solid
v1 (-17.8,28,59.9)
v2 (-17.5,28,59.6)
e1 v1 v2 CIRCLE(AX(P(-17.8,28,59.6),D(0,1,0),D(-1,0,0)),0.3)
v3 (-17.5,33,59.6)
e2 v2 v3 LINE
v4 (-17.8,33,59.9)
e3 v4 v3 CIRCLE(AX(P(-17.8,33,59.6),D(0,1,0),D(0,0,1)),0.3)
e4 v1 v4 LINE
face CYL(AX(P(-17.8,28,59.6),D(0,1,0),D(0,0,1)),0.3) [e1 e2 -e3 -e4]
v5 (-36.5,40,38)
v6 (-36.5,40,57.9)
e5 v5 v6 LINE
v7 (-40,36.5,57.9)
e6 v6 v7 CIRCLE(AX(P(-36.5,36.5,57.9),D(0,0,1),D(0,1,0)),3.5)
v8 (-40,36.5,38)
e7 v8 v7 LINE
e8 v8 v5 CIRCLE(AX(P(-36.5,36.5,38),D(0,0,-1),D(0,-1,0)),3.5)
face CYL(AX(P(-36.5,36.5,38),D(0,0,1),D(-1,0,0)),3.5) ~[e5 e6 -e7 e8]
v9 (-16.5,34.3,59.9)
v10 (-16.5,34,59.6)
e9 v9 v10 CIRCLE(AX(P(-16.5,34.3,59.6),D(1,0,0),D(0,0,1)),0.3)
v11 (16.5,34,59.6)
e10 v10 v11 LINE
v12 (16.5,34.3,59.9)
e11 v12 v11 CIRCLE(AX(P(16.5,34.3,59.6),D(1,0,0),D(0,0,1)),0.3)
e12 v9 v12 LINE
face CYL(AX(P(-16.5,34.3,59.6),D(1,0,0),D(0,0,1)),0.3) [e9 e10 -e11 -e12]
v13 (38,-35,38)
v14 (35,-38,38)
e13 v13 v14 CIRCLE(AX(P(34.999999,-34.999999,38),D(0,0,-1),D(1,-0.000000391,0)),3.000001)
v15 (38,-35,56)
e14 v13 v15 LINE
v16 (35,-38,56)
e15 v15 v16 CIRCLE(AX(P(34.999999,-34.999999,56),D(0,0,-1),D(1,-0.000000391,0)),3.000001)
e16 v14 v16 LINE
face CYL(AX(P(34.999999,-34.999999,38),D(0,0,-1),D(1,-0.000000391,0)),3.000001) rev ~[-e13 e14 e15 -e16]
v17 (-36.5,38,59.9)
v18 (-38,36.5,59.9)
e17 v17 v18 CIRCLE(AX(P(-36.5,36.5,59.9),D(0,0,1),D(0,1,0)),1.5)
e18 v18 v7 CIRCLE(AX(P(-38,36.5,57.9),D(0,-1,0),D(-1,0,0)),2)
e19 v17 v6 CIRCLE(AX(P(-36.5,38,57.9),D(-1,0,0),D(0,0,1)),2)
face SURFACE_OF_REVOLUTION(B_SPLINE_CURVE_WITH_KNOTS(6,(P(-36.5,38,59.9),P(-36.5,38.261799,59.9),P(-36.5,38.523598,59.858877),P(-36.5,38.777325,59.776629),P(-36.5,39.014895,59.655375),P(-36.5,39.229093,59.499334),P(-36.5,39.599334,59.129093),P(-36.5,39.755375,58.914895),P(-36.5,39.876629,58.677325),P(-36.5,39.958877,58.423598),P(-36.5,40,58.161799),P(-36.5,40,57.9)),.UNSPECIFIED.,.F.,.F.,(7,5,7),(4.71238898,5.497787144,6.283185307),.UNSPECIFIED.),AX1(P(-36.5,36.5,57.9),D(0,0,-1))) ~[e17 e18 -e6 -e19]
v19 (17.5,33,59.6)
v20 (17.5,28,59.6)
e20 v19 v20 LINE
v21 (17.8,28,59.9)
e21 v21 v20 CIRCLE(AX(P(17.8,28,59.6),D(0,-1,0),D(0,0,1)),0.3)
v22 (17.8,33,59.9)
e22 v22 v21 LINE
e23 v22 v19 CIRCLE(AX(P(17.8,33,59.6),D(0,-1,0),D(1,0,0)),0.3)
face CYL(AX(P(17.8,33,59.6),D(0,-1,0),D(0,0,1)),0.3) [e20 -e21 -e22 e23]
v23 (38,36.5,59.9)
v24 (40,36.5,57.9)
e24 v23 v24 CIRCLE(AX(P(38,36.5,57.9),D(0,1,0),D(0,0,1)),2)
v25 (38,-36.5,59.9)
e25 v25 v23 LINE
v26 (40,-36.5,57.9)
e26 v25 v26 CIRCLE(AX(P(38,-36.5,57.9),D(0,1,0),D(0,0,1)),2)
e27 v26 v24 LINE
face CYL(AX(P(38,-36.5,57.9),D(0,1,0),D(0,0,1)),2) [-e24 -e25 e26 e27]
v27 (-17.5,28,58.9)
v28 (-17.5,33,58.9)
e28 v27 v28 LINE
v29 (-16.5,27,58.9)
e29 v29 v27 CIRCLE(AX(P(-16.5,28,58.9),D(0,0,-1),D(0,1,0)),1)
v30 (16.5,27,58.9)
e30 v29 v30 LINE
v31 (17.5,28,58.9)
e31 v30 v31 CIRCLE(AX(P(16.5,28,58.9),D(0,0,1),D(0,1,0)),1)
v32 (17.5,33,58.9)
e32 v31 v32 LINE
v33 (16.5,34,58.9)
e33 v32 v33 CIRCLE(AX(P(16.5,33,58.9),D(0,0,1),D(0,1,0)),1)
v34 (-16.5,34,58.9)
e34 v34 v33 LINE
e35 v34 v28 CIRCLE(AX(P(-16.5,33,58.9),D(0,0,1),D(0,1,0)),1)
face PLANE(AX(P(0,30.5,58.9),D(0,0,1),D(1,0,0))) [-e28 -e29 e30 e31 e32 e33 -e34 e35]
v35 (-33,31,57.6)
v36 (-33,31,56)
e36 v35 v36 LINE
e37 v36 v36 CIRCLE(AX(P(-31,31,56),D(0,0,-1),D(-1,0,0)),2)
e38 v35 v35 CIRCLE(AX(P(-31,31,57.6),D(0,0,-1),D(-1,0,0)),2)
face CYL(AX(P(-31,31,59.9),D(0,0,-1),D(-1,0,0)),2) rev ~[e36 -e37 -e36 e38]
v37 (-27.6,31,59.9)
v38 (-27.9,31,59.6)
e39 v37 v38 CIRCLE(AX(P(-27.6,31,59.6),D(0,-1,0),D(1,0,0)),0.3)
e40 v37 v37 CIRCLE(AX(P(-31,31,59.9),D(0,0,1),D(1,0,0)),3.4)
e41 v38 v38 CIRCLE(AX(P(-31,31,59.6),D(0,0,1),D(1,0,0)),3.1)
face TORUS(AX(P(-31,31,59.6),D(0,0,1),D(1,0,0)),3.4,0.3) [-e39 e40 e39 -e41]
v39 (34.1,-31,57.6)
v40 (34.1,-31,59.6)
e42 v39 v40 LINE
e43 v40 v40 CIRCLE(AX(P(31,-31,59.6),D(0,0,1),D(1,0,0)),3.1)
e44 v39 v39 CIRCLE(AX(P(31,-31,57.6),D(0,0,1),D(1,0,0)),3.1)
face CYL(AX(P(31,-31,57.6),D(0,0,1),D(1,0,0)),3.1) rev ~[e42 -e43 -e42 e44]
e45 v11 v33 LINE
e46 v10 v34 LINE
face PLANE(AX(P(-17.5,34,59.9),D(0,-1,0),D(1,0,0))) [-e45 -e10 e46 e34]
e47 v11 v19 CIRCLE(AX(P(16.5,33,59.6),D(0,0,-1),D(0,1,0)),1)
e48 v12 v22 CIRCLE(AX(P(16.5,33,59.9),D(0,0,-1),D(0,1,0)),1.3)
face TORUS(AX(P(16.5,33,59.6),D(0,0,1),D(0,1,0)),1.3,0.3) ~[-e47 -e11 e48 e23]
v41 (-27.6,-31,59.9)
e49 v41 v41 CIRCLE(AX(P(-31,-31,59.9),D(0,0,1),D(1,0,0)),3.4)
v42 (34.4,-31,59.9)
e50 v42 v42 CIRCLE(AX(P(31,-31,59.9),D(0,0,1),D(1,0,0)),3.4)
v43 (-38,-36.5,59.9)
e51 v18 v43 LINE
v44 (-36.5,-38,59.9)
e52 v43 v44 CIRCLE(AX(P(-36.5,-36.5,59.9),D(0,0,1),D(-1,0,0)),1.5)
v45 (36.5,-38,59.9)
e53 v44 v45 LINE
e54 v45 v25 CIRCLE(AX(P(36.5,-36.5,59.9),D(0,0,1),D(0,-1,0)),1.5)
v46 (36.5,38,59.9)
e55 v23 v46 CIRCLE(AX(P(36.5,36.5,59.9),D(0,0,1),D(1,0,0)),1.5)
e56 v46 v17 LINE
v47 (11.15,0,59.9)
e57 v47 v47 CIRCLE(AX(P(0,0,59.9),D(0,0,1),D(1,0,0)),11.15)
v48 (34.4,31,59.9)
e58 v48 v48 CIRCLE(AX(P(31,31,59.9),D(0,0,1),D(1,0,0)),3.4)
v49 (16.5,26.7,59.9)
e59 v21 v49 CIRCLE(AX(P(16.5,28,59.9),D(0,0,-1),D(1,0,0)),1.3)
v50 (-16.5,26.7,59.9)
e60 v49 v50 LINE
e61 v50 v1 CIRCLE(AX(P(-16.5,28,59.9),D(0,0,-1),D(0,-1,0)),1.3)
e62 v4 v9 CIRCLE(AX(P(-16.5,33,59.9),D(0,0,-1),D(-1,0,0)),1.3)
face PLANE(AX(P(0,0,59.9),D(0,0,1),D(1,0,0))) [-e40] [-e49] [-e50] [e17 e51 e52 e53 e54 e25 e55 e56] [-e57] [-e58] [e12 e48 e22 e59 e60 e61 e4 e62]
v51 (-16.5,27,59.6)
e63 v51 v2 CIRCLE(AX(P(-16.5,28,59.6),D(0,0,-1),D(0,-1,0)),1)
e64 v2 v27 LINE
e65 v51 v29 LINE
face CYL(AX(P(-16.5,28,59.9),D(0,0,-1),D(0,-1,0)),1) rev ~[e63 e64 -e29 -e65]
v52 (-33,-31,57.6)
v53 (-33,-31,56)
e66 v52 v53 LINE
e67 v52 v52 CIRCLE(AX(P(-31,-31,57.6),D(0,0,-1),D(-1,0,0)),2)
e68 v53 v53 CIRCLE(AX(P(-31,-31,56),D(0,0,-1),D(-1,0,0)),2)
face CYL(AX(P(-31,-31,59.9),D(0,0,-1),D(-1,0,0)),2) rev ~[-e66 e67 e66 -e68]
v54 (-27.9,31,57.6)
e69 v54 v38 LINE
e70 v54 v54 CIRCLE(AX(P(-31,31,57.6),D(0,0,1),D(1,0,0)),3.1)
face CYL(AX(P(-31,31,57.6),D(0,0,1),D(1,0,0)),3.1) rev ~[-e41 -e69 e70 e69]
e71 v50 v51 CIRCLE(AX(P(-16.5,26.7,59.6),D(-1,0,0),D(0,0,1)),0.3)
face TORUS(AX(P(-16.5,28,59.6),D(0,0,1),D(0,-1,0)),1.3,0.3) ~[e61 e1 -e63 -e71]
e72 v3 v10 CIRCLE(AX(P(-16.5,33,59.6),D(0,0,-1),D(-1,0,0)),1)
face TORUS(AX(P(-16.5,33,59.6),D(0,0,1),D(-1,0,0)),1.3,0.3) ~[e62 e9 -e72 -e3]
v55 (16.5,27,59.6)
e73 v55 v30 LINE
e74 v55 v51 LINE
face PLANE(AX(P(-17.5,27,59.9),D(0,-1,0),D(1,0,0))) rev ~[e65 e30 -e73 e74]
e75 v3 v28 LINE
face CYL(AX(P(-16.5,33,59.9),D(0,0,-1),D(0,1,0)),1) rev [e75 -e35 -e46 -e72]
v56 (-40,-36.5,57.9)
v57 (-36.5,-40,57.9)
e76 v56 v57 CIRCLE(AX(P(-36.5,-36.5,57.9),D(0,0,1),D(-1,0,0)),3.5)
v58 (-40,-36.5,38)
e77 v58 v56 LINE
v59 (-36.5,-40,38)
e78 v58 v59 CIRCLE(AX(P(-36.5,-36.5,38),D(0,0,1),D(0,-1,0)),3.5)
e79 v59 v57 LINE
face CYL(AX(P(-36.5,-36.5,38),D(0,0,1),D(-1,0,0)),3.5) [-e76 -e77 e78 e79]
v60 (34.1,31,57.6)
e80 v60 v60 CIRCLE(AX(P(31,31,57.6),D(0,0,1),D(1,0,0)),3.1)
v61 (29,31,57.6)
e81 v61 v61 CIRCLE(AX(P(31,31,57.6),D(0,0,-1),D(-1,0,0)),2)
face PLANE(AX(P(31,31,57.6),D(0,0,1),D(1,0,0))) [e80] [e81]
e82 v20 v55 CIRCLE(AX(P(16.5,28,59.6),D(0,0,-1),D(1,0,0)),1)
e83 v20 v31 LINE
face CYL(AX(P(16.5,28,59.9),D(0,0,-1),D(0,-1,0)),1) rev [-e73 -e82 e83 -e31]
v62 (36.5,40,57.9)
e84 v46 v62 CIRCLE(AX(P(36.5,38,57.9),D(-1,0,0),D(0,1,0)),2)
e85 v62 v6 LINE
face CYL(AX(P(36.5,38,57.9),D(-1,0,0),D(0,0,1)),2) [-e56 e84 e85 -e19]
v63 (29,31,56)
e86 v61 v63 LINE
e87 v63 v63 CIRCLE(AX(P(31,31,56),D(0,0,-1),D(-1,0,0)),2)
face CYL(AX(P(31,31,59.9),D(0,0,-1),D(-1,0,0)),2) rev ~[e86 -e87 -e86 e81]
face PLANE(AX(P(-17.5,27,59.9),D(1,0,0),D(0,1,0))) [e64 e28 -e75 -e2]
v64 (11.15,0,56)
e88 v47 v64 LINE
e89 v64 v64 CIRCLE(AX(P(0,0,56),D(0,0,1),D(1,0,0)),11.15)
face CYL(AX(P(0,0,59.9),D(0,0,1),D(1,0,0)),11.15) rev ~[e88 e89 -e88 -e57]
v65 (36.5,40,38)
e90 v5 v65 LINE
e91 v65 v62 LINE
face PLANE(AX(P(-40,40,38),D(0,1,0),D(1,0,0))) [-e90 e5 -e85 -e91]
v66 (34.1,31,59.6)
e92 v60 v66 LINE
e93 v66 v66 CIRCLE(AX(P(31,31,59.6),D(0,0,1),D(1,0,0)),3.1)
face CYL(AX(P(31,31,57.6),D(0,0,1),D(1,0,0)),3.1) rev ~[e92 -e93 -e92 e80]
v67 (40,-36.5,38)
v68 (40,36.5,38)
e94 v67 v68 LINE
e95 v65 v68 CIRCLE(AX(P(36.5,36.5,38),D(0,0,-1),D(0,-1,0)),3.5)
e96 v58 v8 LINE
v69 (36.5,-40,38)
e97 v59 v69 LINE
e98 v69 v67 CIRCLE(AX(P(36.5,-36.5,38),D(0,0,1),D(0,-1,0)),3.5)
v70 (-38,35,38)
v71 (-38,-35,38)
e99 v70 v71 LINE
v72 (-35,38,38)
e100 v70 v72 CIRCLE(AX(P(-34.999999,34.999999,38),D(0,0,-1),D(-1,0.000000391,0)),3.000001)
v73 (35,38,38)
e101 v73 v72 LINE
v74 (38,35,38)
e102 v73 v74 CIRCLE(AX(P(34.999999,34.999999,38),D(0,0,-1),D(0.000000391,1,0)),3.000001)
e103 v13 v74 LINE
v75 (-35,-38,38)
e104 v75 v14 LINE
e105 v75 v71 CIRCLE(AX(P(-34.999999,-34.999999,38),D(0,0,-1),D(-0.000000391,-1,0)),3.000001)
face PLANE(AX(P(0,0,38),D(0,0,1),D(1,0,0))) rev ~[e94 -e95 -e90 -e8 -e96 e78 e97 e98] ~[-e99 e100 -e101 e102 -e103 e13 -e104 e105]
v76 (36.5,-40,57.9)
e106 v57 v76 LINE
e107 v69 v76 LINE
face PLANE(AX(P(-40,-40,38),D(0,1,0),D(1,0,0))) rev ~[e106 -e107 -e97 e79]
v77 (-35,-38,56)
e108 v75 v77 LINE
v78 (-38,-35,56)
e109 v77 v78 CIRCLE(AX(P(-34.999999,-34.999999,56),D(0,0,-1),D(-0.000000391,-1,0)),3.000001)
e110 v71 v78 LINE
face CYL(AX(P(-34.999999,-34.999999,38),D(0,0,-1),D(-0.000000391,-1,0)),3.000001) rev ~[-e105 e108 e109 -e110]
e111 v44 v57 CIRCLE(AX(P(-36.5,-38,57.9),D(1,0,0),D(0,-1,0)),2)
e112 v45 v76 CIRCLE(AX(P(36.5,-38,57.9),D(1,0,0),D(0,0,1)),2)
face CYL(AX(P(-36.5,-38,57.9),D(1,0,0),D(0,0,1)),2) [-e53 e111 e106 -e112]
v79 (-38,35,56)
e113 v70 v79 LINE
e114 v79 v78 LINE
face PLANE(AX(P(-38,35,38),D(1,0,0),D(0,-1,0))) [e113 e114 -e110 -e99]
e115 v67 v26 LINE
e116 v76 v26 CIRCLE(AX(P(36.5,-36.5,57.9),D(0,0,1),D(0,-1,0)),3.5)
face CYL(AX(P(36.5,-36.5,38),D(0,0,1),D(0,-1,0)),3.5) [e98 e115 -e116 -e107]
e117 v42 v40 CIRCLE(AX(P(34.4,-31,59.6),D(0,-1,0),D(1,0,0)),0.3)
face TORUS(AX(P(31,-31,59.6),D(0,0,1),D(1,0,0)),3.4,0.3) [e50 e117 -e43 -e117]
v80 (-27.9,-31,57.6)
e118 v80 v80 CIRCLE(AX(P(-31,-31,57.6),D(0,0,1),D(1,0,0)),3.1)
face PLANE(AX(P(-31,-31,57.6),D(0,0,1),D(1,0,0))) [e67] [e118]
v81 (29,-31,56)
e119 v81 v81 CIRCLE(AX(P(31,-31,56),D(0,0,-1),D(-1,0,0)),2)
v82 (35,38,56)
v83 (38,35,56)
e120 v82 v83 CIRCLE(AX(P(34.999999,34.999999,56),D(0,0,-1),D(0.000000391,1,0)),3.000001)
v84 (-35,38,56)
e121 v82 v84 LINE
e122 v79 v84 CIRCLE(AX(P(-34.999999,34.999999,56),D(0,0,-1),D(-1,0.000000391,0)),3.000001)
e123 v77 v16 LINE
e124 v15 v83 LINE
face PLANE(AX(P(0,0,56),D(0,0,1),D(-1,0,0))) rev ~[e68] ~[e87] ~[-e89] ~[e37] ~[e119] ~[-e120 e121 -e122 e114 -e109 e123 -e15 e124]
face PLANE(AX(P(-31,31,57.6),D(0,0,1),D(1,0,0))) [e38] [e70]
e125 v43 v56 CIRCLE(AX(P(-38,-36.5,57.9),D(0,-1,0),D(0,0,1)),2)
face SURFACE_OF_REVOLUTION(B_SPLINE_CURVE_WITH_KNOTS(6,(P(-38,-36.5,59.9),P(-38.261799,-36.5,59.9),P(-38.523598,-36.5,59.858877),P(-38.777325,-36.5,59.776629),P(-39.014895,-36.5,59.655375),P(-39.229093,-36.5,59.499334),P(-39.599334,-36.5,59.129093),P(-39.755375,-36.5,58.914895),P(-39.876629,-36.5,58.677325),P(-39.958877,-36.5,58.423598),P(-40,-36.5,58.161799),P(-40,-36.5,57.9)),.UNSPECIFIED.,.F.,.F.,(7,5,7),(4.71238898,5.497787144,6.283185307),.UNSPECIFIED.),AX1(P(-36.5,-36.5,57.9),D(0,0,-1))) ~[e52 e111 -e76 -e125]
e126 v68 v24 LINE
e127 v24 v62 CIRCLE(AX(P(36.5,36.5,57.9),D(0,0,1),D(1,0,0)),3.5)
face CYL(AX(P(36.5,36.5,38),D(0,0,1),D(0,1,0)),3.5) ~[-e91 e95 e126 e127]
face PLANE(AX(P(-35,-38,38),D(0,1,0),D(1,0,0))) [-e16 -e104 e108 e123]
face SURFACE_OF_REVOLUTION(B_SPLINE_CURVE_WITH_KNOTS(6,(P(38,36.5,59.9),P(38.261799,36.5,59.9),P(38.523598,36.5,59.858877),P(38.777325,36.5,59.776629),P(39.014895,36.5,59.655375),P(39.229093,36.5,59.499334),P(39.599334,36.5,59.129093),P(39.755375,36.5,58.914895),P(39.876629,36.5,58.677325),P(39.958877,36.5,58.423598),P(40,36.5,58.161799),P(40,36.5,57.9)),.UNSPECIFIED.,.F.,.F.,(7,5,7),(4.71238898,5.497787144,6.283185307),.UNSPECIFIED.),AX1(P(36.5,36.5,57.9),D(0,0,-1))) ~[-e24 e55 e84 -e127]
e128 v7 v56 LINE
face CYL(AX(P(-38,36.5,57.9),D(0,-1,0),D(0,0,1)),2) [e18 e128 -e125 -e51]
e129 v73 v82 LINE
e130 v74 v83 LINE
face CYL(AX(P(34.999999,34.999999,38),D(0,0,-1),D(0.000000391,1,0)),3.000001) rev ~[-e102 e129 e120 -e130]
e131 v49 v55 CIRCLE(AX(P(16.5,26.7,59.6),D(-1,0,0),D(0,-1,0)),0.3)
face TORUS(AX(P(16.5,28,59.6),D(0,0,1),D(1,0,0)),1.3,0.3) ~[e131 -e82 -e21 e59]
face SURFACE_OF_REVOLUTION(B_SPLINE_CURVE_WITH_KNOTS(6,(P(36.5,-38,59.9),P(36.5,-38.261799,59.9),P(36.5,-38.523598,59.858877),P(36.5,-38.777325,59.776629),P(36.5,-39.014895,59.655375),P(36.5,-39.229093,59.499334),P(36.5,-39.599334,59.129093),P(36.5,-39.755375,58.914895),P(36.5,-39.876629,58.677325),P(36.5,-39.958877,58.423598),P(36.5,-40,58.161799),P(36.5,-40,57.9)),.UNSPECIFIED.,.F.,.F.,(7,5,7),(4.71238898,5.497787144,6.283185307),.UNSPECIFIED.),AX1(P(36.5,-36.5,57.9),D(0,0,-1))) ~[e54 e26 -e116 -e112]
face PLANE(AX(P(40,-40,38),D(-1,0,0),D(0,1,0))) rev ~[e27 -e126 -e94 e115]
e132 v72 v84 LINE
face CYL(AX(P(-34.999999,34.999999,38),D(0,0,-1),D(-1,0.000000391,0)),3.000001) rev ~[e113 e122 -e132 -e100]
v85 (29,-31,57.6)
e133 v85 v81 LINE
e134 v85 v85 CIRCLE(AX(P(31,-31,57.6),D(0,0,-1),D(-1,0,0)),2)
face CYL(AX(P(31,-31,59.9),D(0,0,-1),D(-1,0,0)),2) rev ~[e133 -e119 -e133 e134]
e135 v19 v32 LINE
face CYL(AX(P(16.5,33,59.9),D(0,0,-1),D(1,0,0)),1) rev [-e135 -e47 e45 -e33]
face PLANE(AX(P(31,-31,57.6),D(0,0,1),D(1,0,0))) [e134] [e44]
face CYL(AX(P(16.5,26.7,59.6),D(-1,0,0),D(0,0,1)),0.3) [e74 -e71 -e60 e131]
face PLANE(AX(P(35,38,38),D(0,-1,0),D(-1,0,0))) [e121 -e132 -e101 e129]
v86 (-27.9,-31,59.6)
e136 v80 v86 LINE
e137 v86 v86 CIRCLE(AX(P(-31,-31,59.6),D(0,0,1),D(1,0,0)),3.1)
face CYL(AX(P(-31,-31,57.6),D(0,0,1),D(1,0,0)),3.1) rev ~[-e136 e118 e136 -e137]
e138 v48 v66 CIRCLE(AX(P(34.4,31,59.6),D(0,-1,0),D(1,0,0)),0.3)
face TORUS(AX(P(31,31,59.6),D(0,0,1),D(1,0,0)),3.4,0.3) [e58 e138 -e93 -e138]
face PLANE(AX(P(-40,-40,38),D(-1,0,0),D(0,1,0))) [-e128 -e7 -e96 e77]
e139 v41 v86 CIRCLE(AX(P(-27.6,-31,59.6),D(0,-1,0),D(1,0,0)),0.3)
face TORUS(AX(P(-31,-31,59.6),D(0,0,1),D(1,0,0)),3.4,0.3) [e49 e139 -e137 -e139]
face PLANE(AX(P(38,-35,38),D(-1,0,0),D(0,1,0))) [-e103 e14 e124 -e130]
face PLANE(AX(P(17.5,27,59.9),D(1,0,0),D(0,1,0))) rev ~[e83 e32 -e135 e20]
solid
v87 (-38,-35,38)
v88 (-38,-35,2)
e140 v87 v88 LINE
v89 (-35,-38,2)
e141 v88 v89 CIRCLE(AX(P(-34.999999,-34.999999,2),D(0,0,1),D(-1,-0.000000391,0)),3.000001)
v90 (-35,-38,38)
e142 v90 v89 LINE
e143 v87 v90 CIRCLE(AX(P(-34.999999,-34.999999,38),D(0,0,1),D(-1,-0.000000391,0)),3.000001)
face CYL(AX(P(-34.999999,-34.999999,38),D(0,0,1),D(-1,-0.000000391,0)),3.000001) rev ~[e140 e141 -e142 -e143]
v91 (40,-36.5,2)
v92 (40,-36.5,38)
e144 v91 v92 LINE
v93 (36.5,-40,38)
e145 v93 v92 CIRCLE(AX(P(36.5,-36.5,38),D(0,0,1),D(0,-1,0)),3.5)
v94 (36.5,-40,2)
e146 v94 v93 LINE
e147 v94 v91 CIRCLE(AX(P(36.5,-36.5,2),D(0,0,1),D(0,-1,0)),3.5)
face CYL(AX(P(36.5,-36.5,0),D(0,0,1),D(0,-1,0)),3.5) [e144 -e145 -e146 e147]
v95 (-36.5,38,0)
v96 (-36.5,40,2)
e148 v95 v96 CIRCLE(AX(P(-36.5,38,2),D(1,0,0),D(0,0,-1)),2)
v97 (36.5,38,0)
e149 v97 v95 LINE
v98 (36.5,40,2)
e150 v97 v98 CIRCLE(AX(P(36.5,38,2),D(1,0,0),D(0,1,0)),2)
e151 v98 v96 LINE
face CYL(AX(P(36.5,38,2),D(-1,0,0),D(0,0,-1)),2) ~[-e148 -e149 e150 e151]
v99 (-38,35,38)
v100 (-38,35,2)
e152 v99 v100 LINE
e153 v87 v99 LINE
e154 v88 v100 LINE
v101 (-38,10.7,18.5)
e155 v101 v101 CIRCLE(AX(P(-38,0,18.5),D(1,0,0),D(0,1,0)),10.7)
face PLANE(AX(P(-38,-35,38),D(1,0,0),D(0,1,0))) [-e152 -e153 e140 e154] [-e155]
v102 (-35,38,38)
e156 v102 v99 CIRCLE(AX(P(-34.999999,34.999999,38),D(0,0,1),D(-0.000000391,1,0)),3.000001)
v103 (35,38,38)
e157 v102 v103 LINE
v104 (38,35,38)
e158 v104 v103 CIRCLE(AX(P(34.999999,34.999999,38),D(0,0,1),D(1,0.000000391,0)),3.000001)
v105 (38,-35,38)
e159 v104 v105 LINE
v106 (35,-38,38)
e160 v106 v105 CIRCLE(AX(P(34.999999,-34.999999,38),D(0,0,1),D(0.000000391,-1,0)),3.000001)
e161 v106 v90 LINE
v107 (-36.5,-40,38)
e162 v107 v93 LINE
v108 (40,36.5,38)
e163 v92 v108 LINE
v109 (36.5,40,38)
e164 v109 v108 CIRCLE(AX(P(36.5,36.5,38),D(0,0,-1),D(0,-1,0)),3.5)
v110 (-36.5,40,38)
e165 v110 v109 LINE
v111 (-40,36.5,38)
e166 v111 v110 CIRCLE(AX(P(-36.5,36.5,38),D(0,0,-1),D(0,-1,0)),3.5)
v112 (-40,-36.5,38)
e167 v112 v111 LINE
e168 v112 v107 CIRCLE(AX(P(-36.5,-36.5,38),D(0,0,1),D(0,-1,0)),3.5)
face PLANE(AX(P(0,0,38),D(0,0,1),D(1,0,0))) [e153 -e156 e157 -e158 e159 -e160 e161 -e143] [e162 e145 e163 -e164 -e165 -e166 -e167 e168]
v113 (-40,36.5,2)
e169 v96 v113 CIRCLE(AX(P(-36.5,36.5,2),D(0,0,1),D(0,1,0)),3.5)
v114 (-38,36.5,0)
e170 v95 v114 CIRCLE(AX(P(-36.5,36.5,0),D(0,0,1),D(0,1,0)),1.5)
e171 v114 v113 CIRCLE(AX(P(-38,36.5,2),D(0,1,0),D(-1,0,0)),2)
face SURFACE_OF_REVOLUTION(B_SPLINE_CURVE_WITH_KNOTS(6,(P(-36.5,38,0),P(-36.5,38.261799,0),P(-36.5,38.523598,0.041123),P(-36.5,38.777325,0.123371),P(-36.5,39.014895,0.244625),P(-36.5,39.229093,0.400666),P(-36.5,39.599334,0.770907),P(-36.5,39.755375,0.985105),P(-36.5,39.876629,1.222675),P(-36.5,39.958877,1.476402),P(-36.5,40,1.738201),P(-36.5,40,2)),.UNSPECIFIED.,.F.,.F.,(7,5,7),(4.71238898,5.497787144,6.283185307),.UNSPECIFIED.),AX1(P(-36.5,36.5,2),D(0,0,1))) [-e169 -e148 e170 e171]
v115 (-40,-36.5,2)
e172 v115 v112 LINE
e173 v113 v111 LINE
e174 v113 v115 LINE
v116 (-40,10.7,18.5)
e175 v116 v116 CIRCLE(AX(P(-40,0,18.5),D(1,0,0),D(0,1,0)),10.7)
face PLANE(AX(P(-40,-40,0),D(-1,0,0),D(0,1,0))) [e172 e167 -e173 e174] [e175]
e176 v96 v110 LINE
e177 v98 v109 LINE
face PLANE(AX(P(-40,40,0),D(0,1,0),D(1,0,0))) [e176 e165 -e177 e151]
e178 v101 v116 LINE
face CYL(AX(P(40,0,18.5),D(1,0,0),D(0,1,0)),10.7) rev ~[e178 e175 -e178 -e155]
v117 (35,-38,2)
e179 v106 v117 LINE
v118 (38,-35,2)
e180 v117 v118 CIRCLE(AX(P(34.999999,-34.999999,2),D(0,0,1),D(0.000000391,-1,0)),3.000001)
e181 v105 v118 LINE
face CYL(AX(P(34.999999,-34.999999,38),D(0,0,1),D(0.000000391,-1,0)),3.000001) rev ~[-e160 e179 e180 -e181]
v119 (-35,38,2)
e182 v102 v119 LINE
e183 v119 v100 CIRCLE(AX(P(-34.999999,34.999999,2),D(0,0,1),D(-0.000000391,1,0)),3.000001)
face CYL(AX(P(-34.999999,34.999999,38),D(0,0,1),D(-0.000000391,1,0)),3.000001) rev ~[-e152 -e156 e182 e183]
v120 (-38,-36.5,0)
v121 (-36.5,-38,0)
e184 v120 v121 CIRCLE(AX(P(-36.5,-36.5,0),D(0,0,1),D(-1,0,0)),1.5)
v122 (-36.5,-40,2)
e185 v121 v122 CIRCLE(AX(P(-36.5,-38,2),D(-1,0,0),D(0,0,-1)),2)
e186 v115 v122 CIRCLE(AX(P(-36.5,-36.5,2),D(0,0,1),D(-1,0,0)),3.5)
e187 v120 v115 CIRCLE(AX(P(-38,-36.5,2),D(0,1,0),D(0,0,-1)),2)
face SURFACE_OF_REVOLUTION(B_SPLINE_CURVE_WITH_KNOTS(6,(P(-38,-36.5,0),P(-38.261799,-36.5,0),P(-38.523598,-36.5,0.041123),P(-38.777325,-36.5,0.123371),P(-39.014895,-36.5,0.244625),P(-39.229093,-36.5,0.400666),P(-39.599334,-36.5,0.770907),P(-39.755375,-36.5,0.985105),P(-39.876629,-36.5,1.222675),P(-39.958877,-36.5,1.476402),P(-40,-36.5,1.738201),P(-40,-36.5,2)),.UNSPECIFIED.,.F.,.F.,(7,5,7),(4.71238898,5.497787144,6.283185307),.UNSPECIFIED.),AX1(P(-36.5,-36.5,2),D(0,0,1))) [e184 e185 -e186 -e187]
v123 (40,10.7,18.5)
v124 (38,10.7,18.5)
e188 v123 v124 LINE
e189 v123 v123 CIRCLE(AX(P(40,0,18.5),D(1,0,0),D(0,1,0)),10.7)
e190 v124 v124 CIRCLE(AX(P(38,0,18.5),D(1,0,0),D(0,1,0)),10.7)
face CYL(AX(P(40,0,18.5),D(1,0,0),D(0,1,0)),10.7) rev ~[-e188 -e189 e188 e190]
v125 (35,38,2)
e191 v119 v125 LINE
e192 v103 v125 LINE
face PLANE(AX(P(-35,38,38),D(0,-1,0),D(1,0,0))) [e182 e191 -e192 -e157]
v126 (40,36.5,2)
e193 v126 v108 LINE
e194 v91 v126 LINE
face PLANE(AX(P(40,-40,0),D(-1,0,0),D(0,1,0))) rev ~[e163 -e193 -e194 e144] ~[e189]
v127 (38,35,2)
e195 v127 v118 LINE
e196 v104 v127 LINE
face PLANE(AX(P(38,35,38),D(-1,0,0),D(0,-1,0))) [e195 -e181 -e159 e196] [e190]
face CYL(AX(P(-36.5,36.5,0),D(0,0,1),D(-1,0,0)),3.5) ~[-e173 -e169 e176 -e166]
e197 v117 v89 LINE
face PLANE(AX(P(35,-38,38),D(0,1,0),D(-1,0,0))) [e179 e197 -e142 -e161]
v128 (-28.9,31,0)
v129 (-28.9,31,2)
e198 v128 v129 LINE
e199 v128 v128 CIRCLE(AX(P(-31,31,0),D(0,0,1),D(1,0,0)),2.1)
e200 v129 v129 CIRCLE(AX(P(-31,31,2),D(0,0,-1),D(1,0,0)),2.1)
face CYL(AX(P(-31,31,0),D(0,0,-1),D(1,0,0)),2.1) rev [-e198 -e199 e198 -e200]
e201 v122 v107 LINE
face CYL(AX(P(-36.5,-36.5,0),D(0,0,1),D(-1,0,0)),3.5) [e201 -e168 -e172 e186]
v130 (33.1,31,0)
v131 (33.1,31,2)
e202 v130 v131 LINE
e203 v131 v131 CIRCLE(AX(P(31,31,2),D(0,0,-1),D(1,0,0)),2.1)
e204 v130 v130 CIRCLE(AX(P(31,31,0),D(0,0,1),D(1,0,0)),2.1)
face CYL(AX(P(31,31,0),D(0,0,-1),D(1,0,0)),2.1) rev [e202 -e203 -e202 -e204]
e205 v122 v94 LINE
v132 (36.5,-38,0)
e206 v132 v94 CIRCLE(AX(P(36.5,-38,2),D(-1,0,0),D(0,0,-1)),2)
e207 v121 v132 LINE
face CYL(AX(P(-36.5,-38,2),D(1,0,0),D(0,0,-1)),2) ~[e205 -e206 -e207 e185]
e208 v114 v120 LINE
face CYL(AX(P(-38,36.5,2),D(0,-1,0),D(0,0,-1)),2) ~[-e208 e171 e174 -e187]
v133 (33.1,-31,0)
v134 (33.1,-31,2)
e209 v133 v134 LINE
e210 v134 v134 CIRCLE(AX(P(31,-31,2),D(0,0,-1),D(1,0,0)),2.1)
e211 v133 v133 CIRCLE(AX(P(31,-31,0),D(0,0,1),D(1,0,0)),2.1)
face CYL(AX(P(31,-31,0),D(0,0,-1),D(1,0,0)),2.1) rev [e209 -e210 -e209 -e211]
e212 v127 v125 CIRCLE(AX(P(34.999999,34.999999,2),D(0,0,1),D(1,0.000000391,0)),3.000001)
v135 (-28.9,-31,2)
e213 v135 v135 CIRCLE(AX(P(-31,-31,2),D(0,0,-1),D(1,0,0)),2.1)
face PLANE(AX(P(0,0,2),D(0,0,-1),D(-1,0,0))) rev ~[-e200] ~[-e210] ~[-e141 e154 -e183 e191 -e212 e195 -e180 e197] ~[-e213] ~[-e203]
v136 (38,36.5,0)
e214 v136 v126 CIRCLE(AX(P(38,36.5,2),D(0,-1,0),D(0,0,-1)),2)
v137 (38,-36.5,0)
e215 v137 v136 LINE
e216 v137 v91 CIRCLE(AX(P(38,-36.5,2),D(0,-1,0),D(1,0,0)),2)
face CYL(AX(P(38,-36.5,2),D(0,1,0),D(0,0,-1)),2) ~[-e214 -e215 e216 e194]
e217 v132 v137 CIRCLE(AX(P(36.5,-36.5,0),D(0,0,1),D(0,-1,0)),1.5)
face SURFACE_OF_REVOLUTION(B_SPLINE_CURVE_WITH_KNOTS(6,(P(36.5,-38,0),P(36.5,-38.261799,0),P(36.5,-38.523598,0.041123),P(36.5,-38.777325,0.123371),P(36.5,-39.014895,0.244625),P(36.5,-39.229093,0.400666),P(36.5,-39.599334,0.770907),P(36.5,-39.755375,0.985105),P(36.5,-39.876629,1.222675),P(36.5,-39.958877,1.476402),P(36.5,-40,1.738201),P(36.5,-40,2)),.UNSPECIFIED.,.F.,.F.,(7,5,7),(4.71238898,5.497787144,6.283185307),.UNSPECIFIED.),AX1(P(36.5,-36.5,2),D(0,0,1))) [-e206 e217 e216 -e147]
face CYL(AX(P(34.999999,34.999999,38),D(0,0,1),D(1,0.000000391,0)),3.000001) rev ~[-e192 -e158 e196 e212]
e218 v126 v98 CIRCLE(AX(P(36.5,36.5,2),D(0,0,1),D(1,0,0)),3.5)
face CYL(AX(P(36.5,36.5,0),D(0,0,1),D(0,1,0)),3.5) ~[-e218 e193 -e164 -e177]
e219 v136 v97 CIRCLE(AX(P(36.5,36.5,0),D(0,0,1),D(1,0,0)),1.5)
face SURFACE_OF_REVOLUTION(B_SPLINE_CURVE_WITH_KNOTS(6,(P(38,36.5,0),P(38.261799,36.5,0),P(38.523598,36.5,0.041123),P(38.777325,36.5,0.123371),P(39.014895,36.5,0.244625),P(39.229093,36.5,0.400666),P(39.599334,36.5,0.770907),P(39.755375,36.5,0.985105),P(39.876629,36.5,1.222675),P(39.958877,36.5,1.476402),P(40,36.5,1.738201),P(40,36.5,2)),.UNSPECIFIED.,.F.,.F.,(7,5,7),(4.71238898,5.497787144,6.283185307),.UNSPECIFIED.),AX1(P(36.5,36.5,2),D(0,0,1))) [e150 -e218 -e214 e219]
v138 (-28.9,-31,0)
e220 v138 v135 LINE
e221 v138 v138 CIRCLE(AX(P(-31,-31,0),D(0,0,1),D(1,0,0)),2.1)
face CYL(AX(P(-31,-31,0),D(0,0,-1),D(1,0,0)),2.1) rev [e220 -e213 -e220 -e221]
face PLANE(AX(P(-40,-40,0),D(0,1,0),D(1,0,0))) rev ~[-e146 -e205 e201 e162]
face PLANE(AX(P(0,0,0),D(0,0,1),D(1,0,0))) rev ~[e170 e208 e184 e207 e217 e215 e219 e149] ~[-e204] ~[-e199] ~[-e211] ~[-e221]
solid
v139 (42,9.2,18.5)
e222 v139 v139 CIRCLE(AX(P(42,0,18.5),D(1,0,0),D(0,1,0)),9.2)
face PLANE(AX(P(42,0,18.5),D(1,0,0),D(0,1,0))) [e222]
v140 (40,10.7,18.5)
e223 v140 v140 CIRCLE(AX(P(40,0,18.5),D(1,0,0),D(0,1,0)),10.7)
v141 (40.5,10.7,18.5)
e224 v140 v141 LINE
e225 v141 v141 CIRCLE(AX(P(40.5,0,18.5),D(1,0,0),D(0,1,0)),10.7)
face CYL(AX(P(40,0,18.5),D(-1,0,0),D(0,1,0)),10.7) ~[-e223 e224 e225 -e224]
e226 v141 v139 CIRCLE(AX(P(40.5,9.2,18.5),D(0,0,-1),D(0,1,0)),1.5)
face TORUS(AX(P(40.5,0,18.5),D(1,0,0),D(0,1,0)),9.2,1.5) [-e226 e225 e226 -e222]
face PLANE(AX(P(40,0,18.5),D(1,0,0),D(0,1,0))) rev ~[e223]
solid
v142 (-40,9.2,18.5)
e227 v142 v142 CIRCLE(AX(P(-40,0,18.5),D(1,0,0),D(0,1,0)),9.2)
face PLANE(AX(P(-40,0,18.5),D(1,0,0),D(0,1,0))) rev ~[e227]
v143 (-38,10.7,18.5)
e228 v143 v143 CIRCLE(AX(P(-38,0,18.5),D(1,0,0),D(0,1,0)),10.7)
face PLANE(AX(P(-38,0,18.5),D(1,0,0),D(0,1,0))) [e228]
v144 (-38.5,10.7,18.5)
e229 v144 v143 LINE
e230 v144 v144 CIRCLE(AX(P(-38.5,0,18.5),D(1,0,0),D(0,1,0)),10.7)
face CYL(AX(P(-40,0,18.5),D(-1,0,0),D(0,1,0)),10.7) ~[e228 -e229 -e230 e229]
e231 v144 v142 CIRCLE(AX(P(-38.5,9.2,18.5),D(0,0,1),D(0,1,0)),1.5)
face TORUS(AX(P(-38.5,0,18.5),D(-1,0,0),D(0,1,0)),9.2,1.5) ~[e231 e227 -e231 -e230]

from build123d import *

# Parameters (mm, degrees)
SKETCH_W         = 80
SKETCH_H         = 80
SKETCH_R         = 2.1
PAD_DEPTH        = 38
POCKET_DEPTH     = 36
FILLET_R         = 3.5
FILLET001_R      = 2
SKETCH005_R      = 10.7
POCKET003_DEPTH  = 80.001
SKETCH002_W      = 80
SKETCH002_H      = 80
PAD001_DEPTH     = 21.9
POCKET001_DEPTH  = 18
FILLET002_R      = 3.5
SKETCH004_R      = 11.15
POCKET002_DEPTH  = 21.901
FILLET005_R      = 2
HOLE_D           = 4
HOLE_CBORE_D     = 6.2
HOLE_CBORE_DEPTH = 2.3
SKETCH009_W      = 35
SKETCH009_H      = 7
POCKET004_DEPTH  = 1
FILLET006_R      = 1
FILLET007_R      = 0.3
FILLET008_R      = 0.3
SKETCH006_R      = 10.7
PAD002_DEPTH     = 2
FILLET003_R      = 1.5
SKETCH007_R      = 10.7
PAD003_DEPTH     = 2
FILLET004_R      = 1.5


with BuildPart() as bodybottom:
    # Sketch → Pad (new body)
    with BuildSketch(Plane.XY):
        Rectangle(SKETCH_W, SKETCH_H)
        with Locations((31, 31)):
            Circle(SKETCH_R, mode=Mode.SUBTRACT)
        with Locations((-31, 31)):
            Circle(SKETCH_R, mode=Mode.SUBTRACT)
        with Locations((-31, -31)):
            Circle(SKETCH_R, mode=Mode.SUBTRACT)
        with Locations((31, -31)):
            Circle(SKETCH_R, mode=Mode.SUBTRACT)
    extrude(amount=PAD_DEPTH)

    # Sketch001 (on Face10 of Pad) → Pocket (cut)
    with BuildSketch(Plane.XY.offset(38)):
        with BuildLine():
            Line((-35, 38), (35, 38))
            ThreePointArc((38, 35), (37.12132, 37.12132), (35, 38))
            Line((38, 35), (38, -35))
            ThreePointArc((35, -38), (37.12132, -37.12132), (38, -35))
            Line((35, -38), (-35, -38))
            ThreePointArc((-38, -35), (-37.12132, -37.12132), (-35, -38))
            Line((-38, -35), (-38, 35))
            ThreePointArc((-35, 38), (-37.12132, 37.12132), (-38, 35))
        make_face()
    extrude(amount=-POCKET_DEPTH, mode=Mode.SUBTRACT)

    # Fillet
    fillet_edges = [bodybottom.edges().sort_by_distance(p)[0] for p in [
        (-40, -40, 19),
        (-40, 40, 19),
        (40, 40, 19),
        (40, -40, 19),
    ]]
    fillet(fillet_edges, radius=FILLET_R)

    # Fillet001
    fillet001_edges = [bodybottom.edges().sort_by_distance(p)[0] for p in [
        (0, -40, 0),
    ]]
    fillet(fillet001_edges, radius=FILLET001_R)

    # Sketch005 (on Face10 of Fillet001) → Pocket003 (cut, through all)
    with BuildSketch(Plane.YZ.offset(40)):
        with Locations((0, 18.5)):
            Circle(SKETCH005_R)
    extrude(amount=-POCKET003_DEPTH, mode=Mode.SUBTRACT)


with BuildPart() as bodytop:
    # Sketch002 (on DatumPlane) → Pad001 (new body)
    with BuildSketch(Plane.XY.offset(38)):
        Rectangle(SKETCH002_W, SKETCH002_H)
    extrude(amount=PAD001_DEPTH)

    # Sketch003 (on Face5 of Pad001) → Pocket001 (cut)
    with BuildSketch(Plane(origin=(0, 0, 38), x_dir=(1, 0, 0), z_dir=(0, 0, -1))):
        with BuildLine():
            Line((-35, 38), (35, 38))
            ThreePointArc((38, 35), (37.12132, 37.12132), (35, 38))
            Line((38, 35), (38, -35))
            ThreePointArc((35, -38), (37.12132, -37.12132), (38, -35))
            Line((35, -38), (-35, -38))
            ThreePointArc((-38, -35), (-37.12132, -37.12132), (-35, -38))
            Line((-38, -35), (-38, 35))
            ThreePointArc((-35, 38), (-37.12132, 37.12132), (-38, 35))
        make_face()
    extrude(amount=-POCKET001_DEPTH, mode=Mode.SUBTRACT)

    # Fillet002
    fillet002_edges = [bodytop.edges().sort_by_distance(p)[0] for p in [
        (40, -40, 48.95),
        (40, 40, 48.95),
        (-40, 40, 48.95),
        (-40, -40, 48.95),
    ]]
    fillet(fillet002_edges, radius=FILLET002_R)

    # Sketch004 (on Face5 of Fillet002) → Pocket002 (cut, through all)
    with BuildSketch(Plane.XY.offset(59.9)):
        Circle(SKETCH004_R)
    extrude(amount=-POCKET002_DEPTH, mode=Mode.SUBTRACT)

    # Fillet005
    fillet005_edges = [bodytop.edges().sort_by_distance(p)[0] for p in [
        (40, 0, 59.9),
    ]]
    fillet(fillet005_edges, radius=FILLET005_R)

    # Hole (through all)
    with Locations(Plane.XY.offset(59.9)):
        with Locations((-31, 31), (31, 31), (31, -31), (-31, -31)):
            CounterBoreHole(HOLE_D / 2, HOLE_CBORE_D / 2, HOLE_CBORE_DEPTH)

    # Sketch009 (on Face8 of Hole) → Pocket004 (cut)
    with BuildSketch(Plane.XY.offset(59.9)):
        with Locations((0, 30.5)):
            Rectangle(SKETCH009_W, SKETCH009_H)
    extrude(amount=-POCKET004_DEPTH, mode=Mode.SUBTRACT)

    # Fillet006
    fillet006_edges = [bodytop.edges().sort_by_distance(p)[0] for p in [
        (17.5, 34, 59.4),
        (17.5, 27, 59.4),
        (-17.5, 27, 59.4),
        (-17.5, 34, 59.4),
    ]]
    fillet(fillet006_edges, radius=FILLET006_R)

    # Fillet007
    fillet007_edges = [bodytop.edges().sort_by_distance(p)[0] for p in [
        (0, 34, 59.9),
    ]]
    fillet(fillet007_edges, radius=FILLET007_R)

    # Fillet008
    fillet008_edges = [bodytop.edges().sort_by_distance(p)[0] for p in [
        (27.9, 31, 59.9),
        (-34.1, 31, 59.9),
        (-34.1, -31, 59.9),
        (27.9, -31, 59.9),
    ]]
    fillet(fillet008_edges, radius=FILLET008_R)


with BuildPart() as rubberright:
    # Sketch006 (on DatumPlane) → Pad002 (new body)
    with BuildSketch(Plane.YZ.offset(40)):
        with Locations((0, 18.5)):
            Circle(SKETCH006_R)
    extrude(amount=PAD002_DEPTH)

    # Fillet003
    fillet003_edges = [rubberright.edges().sort_by_distance(p)[0] for p in [
        (42, -10.7, 18.5),
    ]]
    fillet(fillet003_edges, radius=FILLET003_R)


with BuildPart() as rubberleft:
    # Sketch007 (on DatumPlane) → Pad003 (new body)
    with BuildSketch(Plane.YZ.offset(-40)):
        with Locations((0, 18.5)):
            Circle(SKETCH007_R)
    extrude(amount=PAD003_DEPTH)

    # Fillet004
    fillet004_edges = [rubberleft.edges().sort_by_distance(p)[0] for p in [
        (-40, -10.7, 18.5),
    ]]
    fillet(fillet004_edges, radius=FILLET004_R)


solid = Compound([bodybottom.part, bodytop.part, rubberright.part, rubberleft.part])
